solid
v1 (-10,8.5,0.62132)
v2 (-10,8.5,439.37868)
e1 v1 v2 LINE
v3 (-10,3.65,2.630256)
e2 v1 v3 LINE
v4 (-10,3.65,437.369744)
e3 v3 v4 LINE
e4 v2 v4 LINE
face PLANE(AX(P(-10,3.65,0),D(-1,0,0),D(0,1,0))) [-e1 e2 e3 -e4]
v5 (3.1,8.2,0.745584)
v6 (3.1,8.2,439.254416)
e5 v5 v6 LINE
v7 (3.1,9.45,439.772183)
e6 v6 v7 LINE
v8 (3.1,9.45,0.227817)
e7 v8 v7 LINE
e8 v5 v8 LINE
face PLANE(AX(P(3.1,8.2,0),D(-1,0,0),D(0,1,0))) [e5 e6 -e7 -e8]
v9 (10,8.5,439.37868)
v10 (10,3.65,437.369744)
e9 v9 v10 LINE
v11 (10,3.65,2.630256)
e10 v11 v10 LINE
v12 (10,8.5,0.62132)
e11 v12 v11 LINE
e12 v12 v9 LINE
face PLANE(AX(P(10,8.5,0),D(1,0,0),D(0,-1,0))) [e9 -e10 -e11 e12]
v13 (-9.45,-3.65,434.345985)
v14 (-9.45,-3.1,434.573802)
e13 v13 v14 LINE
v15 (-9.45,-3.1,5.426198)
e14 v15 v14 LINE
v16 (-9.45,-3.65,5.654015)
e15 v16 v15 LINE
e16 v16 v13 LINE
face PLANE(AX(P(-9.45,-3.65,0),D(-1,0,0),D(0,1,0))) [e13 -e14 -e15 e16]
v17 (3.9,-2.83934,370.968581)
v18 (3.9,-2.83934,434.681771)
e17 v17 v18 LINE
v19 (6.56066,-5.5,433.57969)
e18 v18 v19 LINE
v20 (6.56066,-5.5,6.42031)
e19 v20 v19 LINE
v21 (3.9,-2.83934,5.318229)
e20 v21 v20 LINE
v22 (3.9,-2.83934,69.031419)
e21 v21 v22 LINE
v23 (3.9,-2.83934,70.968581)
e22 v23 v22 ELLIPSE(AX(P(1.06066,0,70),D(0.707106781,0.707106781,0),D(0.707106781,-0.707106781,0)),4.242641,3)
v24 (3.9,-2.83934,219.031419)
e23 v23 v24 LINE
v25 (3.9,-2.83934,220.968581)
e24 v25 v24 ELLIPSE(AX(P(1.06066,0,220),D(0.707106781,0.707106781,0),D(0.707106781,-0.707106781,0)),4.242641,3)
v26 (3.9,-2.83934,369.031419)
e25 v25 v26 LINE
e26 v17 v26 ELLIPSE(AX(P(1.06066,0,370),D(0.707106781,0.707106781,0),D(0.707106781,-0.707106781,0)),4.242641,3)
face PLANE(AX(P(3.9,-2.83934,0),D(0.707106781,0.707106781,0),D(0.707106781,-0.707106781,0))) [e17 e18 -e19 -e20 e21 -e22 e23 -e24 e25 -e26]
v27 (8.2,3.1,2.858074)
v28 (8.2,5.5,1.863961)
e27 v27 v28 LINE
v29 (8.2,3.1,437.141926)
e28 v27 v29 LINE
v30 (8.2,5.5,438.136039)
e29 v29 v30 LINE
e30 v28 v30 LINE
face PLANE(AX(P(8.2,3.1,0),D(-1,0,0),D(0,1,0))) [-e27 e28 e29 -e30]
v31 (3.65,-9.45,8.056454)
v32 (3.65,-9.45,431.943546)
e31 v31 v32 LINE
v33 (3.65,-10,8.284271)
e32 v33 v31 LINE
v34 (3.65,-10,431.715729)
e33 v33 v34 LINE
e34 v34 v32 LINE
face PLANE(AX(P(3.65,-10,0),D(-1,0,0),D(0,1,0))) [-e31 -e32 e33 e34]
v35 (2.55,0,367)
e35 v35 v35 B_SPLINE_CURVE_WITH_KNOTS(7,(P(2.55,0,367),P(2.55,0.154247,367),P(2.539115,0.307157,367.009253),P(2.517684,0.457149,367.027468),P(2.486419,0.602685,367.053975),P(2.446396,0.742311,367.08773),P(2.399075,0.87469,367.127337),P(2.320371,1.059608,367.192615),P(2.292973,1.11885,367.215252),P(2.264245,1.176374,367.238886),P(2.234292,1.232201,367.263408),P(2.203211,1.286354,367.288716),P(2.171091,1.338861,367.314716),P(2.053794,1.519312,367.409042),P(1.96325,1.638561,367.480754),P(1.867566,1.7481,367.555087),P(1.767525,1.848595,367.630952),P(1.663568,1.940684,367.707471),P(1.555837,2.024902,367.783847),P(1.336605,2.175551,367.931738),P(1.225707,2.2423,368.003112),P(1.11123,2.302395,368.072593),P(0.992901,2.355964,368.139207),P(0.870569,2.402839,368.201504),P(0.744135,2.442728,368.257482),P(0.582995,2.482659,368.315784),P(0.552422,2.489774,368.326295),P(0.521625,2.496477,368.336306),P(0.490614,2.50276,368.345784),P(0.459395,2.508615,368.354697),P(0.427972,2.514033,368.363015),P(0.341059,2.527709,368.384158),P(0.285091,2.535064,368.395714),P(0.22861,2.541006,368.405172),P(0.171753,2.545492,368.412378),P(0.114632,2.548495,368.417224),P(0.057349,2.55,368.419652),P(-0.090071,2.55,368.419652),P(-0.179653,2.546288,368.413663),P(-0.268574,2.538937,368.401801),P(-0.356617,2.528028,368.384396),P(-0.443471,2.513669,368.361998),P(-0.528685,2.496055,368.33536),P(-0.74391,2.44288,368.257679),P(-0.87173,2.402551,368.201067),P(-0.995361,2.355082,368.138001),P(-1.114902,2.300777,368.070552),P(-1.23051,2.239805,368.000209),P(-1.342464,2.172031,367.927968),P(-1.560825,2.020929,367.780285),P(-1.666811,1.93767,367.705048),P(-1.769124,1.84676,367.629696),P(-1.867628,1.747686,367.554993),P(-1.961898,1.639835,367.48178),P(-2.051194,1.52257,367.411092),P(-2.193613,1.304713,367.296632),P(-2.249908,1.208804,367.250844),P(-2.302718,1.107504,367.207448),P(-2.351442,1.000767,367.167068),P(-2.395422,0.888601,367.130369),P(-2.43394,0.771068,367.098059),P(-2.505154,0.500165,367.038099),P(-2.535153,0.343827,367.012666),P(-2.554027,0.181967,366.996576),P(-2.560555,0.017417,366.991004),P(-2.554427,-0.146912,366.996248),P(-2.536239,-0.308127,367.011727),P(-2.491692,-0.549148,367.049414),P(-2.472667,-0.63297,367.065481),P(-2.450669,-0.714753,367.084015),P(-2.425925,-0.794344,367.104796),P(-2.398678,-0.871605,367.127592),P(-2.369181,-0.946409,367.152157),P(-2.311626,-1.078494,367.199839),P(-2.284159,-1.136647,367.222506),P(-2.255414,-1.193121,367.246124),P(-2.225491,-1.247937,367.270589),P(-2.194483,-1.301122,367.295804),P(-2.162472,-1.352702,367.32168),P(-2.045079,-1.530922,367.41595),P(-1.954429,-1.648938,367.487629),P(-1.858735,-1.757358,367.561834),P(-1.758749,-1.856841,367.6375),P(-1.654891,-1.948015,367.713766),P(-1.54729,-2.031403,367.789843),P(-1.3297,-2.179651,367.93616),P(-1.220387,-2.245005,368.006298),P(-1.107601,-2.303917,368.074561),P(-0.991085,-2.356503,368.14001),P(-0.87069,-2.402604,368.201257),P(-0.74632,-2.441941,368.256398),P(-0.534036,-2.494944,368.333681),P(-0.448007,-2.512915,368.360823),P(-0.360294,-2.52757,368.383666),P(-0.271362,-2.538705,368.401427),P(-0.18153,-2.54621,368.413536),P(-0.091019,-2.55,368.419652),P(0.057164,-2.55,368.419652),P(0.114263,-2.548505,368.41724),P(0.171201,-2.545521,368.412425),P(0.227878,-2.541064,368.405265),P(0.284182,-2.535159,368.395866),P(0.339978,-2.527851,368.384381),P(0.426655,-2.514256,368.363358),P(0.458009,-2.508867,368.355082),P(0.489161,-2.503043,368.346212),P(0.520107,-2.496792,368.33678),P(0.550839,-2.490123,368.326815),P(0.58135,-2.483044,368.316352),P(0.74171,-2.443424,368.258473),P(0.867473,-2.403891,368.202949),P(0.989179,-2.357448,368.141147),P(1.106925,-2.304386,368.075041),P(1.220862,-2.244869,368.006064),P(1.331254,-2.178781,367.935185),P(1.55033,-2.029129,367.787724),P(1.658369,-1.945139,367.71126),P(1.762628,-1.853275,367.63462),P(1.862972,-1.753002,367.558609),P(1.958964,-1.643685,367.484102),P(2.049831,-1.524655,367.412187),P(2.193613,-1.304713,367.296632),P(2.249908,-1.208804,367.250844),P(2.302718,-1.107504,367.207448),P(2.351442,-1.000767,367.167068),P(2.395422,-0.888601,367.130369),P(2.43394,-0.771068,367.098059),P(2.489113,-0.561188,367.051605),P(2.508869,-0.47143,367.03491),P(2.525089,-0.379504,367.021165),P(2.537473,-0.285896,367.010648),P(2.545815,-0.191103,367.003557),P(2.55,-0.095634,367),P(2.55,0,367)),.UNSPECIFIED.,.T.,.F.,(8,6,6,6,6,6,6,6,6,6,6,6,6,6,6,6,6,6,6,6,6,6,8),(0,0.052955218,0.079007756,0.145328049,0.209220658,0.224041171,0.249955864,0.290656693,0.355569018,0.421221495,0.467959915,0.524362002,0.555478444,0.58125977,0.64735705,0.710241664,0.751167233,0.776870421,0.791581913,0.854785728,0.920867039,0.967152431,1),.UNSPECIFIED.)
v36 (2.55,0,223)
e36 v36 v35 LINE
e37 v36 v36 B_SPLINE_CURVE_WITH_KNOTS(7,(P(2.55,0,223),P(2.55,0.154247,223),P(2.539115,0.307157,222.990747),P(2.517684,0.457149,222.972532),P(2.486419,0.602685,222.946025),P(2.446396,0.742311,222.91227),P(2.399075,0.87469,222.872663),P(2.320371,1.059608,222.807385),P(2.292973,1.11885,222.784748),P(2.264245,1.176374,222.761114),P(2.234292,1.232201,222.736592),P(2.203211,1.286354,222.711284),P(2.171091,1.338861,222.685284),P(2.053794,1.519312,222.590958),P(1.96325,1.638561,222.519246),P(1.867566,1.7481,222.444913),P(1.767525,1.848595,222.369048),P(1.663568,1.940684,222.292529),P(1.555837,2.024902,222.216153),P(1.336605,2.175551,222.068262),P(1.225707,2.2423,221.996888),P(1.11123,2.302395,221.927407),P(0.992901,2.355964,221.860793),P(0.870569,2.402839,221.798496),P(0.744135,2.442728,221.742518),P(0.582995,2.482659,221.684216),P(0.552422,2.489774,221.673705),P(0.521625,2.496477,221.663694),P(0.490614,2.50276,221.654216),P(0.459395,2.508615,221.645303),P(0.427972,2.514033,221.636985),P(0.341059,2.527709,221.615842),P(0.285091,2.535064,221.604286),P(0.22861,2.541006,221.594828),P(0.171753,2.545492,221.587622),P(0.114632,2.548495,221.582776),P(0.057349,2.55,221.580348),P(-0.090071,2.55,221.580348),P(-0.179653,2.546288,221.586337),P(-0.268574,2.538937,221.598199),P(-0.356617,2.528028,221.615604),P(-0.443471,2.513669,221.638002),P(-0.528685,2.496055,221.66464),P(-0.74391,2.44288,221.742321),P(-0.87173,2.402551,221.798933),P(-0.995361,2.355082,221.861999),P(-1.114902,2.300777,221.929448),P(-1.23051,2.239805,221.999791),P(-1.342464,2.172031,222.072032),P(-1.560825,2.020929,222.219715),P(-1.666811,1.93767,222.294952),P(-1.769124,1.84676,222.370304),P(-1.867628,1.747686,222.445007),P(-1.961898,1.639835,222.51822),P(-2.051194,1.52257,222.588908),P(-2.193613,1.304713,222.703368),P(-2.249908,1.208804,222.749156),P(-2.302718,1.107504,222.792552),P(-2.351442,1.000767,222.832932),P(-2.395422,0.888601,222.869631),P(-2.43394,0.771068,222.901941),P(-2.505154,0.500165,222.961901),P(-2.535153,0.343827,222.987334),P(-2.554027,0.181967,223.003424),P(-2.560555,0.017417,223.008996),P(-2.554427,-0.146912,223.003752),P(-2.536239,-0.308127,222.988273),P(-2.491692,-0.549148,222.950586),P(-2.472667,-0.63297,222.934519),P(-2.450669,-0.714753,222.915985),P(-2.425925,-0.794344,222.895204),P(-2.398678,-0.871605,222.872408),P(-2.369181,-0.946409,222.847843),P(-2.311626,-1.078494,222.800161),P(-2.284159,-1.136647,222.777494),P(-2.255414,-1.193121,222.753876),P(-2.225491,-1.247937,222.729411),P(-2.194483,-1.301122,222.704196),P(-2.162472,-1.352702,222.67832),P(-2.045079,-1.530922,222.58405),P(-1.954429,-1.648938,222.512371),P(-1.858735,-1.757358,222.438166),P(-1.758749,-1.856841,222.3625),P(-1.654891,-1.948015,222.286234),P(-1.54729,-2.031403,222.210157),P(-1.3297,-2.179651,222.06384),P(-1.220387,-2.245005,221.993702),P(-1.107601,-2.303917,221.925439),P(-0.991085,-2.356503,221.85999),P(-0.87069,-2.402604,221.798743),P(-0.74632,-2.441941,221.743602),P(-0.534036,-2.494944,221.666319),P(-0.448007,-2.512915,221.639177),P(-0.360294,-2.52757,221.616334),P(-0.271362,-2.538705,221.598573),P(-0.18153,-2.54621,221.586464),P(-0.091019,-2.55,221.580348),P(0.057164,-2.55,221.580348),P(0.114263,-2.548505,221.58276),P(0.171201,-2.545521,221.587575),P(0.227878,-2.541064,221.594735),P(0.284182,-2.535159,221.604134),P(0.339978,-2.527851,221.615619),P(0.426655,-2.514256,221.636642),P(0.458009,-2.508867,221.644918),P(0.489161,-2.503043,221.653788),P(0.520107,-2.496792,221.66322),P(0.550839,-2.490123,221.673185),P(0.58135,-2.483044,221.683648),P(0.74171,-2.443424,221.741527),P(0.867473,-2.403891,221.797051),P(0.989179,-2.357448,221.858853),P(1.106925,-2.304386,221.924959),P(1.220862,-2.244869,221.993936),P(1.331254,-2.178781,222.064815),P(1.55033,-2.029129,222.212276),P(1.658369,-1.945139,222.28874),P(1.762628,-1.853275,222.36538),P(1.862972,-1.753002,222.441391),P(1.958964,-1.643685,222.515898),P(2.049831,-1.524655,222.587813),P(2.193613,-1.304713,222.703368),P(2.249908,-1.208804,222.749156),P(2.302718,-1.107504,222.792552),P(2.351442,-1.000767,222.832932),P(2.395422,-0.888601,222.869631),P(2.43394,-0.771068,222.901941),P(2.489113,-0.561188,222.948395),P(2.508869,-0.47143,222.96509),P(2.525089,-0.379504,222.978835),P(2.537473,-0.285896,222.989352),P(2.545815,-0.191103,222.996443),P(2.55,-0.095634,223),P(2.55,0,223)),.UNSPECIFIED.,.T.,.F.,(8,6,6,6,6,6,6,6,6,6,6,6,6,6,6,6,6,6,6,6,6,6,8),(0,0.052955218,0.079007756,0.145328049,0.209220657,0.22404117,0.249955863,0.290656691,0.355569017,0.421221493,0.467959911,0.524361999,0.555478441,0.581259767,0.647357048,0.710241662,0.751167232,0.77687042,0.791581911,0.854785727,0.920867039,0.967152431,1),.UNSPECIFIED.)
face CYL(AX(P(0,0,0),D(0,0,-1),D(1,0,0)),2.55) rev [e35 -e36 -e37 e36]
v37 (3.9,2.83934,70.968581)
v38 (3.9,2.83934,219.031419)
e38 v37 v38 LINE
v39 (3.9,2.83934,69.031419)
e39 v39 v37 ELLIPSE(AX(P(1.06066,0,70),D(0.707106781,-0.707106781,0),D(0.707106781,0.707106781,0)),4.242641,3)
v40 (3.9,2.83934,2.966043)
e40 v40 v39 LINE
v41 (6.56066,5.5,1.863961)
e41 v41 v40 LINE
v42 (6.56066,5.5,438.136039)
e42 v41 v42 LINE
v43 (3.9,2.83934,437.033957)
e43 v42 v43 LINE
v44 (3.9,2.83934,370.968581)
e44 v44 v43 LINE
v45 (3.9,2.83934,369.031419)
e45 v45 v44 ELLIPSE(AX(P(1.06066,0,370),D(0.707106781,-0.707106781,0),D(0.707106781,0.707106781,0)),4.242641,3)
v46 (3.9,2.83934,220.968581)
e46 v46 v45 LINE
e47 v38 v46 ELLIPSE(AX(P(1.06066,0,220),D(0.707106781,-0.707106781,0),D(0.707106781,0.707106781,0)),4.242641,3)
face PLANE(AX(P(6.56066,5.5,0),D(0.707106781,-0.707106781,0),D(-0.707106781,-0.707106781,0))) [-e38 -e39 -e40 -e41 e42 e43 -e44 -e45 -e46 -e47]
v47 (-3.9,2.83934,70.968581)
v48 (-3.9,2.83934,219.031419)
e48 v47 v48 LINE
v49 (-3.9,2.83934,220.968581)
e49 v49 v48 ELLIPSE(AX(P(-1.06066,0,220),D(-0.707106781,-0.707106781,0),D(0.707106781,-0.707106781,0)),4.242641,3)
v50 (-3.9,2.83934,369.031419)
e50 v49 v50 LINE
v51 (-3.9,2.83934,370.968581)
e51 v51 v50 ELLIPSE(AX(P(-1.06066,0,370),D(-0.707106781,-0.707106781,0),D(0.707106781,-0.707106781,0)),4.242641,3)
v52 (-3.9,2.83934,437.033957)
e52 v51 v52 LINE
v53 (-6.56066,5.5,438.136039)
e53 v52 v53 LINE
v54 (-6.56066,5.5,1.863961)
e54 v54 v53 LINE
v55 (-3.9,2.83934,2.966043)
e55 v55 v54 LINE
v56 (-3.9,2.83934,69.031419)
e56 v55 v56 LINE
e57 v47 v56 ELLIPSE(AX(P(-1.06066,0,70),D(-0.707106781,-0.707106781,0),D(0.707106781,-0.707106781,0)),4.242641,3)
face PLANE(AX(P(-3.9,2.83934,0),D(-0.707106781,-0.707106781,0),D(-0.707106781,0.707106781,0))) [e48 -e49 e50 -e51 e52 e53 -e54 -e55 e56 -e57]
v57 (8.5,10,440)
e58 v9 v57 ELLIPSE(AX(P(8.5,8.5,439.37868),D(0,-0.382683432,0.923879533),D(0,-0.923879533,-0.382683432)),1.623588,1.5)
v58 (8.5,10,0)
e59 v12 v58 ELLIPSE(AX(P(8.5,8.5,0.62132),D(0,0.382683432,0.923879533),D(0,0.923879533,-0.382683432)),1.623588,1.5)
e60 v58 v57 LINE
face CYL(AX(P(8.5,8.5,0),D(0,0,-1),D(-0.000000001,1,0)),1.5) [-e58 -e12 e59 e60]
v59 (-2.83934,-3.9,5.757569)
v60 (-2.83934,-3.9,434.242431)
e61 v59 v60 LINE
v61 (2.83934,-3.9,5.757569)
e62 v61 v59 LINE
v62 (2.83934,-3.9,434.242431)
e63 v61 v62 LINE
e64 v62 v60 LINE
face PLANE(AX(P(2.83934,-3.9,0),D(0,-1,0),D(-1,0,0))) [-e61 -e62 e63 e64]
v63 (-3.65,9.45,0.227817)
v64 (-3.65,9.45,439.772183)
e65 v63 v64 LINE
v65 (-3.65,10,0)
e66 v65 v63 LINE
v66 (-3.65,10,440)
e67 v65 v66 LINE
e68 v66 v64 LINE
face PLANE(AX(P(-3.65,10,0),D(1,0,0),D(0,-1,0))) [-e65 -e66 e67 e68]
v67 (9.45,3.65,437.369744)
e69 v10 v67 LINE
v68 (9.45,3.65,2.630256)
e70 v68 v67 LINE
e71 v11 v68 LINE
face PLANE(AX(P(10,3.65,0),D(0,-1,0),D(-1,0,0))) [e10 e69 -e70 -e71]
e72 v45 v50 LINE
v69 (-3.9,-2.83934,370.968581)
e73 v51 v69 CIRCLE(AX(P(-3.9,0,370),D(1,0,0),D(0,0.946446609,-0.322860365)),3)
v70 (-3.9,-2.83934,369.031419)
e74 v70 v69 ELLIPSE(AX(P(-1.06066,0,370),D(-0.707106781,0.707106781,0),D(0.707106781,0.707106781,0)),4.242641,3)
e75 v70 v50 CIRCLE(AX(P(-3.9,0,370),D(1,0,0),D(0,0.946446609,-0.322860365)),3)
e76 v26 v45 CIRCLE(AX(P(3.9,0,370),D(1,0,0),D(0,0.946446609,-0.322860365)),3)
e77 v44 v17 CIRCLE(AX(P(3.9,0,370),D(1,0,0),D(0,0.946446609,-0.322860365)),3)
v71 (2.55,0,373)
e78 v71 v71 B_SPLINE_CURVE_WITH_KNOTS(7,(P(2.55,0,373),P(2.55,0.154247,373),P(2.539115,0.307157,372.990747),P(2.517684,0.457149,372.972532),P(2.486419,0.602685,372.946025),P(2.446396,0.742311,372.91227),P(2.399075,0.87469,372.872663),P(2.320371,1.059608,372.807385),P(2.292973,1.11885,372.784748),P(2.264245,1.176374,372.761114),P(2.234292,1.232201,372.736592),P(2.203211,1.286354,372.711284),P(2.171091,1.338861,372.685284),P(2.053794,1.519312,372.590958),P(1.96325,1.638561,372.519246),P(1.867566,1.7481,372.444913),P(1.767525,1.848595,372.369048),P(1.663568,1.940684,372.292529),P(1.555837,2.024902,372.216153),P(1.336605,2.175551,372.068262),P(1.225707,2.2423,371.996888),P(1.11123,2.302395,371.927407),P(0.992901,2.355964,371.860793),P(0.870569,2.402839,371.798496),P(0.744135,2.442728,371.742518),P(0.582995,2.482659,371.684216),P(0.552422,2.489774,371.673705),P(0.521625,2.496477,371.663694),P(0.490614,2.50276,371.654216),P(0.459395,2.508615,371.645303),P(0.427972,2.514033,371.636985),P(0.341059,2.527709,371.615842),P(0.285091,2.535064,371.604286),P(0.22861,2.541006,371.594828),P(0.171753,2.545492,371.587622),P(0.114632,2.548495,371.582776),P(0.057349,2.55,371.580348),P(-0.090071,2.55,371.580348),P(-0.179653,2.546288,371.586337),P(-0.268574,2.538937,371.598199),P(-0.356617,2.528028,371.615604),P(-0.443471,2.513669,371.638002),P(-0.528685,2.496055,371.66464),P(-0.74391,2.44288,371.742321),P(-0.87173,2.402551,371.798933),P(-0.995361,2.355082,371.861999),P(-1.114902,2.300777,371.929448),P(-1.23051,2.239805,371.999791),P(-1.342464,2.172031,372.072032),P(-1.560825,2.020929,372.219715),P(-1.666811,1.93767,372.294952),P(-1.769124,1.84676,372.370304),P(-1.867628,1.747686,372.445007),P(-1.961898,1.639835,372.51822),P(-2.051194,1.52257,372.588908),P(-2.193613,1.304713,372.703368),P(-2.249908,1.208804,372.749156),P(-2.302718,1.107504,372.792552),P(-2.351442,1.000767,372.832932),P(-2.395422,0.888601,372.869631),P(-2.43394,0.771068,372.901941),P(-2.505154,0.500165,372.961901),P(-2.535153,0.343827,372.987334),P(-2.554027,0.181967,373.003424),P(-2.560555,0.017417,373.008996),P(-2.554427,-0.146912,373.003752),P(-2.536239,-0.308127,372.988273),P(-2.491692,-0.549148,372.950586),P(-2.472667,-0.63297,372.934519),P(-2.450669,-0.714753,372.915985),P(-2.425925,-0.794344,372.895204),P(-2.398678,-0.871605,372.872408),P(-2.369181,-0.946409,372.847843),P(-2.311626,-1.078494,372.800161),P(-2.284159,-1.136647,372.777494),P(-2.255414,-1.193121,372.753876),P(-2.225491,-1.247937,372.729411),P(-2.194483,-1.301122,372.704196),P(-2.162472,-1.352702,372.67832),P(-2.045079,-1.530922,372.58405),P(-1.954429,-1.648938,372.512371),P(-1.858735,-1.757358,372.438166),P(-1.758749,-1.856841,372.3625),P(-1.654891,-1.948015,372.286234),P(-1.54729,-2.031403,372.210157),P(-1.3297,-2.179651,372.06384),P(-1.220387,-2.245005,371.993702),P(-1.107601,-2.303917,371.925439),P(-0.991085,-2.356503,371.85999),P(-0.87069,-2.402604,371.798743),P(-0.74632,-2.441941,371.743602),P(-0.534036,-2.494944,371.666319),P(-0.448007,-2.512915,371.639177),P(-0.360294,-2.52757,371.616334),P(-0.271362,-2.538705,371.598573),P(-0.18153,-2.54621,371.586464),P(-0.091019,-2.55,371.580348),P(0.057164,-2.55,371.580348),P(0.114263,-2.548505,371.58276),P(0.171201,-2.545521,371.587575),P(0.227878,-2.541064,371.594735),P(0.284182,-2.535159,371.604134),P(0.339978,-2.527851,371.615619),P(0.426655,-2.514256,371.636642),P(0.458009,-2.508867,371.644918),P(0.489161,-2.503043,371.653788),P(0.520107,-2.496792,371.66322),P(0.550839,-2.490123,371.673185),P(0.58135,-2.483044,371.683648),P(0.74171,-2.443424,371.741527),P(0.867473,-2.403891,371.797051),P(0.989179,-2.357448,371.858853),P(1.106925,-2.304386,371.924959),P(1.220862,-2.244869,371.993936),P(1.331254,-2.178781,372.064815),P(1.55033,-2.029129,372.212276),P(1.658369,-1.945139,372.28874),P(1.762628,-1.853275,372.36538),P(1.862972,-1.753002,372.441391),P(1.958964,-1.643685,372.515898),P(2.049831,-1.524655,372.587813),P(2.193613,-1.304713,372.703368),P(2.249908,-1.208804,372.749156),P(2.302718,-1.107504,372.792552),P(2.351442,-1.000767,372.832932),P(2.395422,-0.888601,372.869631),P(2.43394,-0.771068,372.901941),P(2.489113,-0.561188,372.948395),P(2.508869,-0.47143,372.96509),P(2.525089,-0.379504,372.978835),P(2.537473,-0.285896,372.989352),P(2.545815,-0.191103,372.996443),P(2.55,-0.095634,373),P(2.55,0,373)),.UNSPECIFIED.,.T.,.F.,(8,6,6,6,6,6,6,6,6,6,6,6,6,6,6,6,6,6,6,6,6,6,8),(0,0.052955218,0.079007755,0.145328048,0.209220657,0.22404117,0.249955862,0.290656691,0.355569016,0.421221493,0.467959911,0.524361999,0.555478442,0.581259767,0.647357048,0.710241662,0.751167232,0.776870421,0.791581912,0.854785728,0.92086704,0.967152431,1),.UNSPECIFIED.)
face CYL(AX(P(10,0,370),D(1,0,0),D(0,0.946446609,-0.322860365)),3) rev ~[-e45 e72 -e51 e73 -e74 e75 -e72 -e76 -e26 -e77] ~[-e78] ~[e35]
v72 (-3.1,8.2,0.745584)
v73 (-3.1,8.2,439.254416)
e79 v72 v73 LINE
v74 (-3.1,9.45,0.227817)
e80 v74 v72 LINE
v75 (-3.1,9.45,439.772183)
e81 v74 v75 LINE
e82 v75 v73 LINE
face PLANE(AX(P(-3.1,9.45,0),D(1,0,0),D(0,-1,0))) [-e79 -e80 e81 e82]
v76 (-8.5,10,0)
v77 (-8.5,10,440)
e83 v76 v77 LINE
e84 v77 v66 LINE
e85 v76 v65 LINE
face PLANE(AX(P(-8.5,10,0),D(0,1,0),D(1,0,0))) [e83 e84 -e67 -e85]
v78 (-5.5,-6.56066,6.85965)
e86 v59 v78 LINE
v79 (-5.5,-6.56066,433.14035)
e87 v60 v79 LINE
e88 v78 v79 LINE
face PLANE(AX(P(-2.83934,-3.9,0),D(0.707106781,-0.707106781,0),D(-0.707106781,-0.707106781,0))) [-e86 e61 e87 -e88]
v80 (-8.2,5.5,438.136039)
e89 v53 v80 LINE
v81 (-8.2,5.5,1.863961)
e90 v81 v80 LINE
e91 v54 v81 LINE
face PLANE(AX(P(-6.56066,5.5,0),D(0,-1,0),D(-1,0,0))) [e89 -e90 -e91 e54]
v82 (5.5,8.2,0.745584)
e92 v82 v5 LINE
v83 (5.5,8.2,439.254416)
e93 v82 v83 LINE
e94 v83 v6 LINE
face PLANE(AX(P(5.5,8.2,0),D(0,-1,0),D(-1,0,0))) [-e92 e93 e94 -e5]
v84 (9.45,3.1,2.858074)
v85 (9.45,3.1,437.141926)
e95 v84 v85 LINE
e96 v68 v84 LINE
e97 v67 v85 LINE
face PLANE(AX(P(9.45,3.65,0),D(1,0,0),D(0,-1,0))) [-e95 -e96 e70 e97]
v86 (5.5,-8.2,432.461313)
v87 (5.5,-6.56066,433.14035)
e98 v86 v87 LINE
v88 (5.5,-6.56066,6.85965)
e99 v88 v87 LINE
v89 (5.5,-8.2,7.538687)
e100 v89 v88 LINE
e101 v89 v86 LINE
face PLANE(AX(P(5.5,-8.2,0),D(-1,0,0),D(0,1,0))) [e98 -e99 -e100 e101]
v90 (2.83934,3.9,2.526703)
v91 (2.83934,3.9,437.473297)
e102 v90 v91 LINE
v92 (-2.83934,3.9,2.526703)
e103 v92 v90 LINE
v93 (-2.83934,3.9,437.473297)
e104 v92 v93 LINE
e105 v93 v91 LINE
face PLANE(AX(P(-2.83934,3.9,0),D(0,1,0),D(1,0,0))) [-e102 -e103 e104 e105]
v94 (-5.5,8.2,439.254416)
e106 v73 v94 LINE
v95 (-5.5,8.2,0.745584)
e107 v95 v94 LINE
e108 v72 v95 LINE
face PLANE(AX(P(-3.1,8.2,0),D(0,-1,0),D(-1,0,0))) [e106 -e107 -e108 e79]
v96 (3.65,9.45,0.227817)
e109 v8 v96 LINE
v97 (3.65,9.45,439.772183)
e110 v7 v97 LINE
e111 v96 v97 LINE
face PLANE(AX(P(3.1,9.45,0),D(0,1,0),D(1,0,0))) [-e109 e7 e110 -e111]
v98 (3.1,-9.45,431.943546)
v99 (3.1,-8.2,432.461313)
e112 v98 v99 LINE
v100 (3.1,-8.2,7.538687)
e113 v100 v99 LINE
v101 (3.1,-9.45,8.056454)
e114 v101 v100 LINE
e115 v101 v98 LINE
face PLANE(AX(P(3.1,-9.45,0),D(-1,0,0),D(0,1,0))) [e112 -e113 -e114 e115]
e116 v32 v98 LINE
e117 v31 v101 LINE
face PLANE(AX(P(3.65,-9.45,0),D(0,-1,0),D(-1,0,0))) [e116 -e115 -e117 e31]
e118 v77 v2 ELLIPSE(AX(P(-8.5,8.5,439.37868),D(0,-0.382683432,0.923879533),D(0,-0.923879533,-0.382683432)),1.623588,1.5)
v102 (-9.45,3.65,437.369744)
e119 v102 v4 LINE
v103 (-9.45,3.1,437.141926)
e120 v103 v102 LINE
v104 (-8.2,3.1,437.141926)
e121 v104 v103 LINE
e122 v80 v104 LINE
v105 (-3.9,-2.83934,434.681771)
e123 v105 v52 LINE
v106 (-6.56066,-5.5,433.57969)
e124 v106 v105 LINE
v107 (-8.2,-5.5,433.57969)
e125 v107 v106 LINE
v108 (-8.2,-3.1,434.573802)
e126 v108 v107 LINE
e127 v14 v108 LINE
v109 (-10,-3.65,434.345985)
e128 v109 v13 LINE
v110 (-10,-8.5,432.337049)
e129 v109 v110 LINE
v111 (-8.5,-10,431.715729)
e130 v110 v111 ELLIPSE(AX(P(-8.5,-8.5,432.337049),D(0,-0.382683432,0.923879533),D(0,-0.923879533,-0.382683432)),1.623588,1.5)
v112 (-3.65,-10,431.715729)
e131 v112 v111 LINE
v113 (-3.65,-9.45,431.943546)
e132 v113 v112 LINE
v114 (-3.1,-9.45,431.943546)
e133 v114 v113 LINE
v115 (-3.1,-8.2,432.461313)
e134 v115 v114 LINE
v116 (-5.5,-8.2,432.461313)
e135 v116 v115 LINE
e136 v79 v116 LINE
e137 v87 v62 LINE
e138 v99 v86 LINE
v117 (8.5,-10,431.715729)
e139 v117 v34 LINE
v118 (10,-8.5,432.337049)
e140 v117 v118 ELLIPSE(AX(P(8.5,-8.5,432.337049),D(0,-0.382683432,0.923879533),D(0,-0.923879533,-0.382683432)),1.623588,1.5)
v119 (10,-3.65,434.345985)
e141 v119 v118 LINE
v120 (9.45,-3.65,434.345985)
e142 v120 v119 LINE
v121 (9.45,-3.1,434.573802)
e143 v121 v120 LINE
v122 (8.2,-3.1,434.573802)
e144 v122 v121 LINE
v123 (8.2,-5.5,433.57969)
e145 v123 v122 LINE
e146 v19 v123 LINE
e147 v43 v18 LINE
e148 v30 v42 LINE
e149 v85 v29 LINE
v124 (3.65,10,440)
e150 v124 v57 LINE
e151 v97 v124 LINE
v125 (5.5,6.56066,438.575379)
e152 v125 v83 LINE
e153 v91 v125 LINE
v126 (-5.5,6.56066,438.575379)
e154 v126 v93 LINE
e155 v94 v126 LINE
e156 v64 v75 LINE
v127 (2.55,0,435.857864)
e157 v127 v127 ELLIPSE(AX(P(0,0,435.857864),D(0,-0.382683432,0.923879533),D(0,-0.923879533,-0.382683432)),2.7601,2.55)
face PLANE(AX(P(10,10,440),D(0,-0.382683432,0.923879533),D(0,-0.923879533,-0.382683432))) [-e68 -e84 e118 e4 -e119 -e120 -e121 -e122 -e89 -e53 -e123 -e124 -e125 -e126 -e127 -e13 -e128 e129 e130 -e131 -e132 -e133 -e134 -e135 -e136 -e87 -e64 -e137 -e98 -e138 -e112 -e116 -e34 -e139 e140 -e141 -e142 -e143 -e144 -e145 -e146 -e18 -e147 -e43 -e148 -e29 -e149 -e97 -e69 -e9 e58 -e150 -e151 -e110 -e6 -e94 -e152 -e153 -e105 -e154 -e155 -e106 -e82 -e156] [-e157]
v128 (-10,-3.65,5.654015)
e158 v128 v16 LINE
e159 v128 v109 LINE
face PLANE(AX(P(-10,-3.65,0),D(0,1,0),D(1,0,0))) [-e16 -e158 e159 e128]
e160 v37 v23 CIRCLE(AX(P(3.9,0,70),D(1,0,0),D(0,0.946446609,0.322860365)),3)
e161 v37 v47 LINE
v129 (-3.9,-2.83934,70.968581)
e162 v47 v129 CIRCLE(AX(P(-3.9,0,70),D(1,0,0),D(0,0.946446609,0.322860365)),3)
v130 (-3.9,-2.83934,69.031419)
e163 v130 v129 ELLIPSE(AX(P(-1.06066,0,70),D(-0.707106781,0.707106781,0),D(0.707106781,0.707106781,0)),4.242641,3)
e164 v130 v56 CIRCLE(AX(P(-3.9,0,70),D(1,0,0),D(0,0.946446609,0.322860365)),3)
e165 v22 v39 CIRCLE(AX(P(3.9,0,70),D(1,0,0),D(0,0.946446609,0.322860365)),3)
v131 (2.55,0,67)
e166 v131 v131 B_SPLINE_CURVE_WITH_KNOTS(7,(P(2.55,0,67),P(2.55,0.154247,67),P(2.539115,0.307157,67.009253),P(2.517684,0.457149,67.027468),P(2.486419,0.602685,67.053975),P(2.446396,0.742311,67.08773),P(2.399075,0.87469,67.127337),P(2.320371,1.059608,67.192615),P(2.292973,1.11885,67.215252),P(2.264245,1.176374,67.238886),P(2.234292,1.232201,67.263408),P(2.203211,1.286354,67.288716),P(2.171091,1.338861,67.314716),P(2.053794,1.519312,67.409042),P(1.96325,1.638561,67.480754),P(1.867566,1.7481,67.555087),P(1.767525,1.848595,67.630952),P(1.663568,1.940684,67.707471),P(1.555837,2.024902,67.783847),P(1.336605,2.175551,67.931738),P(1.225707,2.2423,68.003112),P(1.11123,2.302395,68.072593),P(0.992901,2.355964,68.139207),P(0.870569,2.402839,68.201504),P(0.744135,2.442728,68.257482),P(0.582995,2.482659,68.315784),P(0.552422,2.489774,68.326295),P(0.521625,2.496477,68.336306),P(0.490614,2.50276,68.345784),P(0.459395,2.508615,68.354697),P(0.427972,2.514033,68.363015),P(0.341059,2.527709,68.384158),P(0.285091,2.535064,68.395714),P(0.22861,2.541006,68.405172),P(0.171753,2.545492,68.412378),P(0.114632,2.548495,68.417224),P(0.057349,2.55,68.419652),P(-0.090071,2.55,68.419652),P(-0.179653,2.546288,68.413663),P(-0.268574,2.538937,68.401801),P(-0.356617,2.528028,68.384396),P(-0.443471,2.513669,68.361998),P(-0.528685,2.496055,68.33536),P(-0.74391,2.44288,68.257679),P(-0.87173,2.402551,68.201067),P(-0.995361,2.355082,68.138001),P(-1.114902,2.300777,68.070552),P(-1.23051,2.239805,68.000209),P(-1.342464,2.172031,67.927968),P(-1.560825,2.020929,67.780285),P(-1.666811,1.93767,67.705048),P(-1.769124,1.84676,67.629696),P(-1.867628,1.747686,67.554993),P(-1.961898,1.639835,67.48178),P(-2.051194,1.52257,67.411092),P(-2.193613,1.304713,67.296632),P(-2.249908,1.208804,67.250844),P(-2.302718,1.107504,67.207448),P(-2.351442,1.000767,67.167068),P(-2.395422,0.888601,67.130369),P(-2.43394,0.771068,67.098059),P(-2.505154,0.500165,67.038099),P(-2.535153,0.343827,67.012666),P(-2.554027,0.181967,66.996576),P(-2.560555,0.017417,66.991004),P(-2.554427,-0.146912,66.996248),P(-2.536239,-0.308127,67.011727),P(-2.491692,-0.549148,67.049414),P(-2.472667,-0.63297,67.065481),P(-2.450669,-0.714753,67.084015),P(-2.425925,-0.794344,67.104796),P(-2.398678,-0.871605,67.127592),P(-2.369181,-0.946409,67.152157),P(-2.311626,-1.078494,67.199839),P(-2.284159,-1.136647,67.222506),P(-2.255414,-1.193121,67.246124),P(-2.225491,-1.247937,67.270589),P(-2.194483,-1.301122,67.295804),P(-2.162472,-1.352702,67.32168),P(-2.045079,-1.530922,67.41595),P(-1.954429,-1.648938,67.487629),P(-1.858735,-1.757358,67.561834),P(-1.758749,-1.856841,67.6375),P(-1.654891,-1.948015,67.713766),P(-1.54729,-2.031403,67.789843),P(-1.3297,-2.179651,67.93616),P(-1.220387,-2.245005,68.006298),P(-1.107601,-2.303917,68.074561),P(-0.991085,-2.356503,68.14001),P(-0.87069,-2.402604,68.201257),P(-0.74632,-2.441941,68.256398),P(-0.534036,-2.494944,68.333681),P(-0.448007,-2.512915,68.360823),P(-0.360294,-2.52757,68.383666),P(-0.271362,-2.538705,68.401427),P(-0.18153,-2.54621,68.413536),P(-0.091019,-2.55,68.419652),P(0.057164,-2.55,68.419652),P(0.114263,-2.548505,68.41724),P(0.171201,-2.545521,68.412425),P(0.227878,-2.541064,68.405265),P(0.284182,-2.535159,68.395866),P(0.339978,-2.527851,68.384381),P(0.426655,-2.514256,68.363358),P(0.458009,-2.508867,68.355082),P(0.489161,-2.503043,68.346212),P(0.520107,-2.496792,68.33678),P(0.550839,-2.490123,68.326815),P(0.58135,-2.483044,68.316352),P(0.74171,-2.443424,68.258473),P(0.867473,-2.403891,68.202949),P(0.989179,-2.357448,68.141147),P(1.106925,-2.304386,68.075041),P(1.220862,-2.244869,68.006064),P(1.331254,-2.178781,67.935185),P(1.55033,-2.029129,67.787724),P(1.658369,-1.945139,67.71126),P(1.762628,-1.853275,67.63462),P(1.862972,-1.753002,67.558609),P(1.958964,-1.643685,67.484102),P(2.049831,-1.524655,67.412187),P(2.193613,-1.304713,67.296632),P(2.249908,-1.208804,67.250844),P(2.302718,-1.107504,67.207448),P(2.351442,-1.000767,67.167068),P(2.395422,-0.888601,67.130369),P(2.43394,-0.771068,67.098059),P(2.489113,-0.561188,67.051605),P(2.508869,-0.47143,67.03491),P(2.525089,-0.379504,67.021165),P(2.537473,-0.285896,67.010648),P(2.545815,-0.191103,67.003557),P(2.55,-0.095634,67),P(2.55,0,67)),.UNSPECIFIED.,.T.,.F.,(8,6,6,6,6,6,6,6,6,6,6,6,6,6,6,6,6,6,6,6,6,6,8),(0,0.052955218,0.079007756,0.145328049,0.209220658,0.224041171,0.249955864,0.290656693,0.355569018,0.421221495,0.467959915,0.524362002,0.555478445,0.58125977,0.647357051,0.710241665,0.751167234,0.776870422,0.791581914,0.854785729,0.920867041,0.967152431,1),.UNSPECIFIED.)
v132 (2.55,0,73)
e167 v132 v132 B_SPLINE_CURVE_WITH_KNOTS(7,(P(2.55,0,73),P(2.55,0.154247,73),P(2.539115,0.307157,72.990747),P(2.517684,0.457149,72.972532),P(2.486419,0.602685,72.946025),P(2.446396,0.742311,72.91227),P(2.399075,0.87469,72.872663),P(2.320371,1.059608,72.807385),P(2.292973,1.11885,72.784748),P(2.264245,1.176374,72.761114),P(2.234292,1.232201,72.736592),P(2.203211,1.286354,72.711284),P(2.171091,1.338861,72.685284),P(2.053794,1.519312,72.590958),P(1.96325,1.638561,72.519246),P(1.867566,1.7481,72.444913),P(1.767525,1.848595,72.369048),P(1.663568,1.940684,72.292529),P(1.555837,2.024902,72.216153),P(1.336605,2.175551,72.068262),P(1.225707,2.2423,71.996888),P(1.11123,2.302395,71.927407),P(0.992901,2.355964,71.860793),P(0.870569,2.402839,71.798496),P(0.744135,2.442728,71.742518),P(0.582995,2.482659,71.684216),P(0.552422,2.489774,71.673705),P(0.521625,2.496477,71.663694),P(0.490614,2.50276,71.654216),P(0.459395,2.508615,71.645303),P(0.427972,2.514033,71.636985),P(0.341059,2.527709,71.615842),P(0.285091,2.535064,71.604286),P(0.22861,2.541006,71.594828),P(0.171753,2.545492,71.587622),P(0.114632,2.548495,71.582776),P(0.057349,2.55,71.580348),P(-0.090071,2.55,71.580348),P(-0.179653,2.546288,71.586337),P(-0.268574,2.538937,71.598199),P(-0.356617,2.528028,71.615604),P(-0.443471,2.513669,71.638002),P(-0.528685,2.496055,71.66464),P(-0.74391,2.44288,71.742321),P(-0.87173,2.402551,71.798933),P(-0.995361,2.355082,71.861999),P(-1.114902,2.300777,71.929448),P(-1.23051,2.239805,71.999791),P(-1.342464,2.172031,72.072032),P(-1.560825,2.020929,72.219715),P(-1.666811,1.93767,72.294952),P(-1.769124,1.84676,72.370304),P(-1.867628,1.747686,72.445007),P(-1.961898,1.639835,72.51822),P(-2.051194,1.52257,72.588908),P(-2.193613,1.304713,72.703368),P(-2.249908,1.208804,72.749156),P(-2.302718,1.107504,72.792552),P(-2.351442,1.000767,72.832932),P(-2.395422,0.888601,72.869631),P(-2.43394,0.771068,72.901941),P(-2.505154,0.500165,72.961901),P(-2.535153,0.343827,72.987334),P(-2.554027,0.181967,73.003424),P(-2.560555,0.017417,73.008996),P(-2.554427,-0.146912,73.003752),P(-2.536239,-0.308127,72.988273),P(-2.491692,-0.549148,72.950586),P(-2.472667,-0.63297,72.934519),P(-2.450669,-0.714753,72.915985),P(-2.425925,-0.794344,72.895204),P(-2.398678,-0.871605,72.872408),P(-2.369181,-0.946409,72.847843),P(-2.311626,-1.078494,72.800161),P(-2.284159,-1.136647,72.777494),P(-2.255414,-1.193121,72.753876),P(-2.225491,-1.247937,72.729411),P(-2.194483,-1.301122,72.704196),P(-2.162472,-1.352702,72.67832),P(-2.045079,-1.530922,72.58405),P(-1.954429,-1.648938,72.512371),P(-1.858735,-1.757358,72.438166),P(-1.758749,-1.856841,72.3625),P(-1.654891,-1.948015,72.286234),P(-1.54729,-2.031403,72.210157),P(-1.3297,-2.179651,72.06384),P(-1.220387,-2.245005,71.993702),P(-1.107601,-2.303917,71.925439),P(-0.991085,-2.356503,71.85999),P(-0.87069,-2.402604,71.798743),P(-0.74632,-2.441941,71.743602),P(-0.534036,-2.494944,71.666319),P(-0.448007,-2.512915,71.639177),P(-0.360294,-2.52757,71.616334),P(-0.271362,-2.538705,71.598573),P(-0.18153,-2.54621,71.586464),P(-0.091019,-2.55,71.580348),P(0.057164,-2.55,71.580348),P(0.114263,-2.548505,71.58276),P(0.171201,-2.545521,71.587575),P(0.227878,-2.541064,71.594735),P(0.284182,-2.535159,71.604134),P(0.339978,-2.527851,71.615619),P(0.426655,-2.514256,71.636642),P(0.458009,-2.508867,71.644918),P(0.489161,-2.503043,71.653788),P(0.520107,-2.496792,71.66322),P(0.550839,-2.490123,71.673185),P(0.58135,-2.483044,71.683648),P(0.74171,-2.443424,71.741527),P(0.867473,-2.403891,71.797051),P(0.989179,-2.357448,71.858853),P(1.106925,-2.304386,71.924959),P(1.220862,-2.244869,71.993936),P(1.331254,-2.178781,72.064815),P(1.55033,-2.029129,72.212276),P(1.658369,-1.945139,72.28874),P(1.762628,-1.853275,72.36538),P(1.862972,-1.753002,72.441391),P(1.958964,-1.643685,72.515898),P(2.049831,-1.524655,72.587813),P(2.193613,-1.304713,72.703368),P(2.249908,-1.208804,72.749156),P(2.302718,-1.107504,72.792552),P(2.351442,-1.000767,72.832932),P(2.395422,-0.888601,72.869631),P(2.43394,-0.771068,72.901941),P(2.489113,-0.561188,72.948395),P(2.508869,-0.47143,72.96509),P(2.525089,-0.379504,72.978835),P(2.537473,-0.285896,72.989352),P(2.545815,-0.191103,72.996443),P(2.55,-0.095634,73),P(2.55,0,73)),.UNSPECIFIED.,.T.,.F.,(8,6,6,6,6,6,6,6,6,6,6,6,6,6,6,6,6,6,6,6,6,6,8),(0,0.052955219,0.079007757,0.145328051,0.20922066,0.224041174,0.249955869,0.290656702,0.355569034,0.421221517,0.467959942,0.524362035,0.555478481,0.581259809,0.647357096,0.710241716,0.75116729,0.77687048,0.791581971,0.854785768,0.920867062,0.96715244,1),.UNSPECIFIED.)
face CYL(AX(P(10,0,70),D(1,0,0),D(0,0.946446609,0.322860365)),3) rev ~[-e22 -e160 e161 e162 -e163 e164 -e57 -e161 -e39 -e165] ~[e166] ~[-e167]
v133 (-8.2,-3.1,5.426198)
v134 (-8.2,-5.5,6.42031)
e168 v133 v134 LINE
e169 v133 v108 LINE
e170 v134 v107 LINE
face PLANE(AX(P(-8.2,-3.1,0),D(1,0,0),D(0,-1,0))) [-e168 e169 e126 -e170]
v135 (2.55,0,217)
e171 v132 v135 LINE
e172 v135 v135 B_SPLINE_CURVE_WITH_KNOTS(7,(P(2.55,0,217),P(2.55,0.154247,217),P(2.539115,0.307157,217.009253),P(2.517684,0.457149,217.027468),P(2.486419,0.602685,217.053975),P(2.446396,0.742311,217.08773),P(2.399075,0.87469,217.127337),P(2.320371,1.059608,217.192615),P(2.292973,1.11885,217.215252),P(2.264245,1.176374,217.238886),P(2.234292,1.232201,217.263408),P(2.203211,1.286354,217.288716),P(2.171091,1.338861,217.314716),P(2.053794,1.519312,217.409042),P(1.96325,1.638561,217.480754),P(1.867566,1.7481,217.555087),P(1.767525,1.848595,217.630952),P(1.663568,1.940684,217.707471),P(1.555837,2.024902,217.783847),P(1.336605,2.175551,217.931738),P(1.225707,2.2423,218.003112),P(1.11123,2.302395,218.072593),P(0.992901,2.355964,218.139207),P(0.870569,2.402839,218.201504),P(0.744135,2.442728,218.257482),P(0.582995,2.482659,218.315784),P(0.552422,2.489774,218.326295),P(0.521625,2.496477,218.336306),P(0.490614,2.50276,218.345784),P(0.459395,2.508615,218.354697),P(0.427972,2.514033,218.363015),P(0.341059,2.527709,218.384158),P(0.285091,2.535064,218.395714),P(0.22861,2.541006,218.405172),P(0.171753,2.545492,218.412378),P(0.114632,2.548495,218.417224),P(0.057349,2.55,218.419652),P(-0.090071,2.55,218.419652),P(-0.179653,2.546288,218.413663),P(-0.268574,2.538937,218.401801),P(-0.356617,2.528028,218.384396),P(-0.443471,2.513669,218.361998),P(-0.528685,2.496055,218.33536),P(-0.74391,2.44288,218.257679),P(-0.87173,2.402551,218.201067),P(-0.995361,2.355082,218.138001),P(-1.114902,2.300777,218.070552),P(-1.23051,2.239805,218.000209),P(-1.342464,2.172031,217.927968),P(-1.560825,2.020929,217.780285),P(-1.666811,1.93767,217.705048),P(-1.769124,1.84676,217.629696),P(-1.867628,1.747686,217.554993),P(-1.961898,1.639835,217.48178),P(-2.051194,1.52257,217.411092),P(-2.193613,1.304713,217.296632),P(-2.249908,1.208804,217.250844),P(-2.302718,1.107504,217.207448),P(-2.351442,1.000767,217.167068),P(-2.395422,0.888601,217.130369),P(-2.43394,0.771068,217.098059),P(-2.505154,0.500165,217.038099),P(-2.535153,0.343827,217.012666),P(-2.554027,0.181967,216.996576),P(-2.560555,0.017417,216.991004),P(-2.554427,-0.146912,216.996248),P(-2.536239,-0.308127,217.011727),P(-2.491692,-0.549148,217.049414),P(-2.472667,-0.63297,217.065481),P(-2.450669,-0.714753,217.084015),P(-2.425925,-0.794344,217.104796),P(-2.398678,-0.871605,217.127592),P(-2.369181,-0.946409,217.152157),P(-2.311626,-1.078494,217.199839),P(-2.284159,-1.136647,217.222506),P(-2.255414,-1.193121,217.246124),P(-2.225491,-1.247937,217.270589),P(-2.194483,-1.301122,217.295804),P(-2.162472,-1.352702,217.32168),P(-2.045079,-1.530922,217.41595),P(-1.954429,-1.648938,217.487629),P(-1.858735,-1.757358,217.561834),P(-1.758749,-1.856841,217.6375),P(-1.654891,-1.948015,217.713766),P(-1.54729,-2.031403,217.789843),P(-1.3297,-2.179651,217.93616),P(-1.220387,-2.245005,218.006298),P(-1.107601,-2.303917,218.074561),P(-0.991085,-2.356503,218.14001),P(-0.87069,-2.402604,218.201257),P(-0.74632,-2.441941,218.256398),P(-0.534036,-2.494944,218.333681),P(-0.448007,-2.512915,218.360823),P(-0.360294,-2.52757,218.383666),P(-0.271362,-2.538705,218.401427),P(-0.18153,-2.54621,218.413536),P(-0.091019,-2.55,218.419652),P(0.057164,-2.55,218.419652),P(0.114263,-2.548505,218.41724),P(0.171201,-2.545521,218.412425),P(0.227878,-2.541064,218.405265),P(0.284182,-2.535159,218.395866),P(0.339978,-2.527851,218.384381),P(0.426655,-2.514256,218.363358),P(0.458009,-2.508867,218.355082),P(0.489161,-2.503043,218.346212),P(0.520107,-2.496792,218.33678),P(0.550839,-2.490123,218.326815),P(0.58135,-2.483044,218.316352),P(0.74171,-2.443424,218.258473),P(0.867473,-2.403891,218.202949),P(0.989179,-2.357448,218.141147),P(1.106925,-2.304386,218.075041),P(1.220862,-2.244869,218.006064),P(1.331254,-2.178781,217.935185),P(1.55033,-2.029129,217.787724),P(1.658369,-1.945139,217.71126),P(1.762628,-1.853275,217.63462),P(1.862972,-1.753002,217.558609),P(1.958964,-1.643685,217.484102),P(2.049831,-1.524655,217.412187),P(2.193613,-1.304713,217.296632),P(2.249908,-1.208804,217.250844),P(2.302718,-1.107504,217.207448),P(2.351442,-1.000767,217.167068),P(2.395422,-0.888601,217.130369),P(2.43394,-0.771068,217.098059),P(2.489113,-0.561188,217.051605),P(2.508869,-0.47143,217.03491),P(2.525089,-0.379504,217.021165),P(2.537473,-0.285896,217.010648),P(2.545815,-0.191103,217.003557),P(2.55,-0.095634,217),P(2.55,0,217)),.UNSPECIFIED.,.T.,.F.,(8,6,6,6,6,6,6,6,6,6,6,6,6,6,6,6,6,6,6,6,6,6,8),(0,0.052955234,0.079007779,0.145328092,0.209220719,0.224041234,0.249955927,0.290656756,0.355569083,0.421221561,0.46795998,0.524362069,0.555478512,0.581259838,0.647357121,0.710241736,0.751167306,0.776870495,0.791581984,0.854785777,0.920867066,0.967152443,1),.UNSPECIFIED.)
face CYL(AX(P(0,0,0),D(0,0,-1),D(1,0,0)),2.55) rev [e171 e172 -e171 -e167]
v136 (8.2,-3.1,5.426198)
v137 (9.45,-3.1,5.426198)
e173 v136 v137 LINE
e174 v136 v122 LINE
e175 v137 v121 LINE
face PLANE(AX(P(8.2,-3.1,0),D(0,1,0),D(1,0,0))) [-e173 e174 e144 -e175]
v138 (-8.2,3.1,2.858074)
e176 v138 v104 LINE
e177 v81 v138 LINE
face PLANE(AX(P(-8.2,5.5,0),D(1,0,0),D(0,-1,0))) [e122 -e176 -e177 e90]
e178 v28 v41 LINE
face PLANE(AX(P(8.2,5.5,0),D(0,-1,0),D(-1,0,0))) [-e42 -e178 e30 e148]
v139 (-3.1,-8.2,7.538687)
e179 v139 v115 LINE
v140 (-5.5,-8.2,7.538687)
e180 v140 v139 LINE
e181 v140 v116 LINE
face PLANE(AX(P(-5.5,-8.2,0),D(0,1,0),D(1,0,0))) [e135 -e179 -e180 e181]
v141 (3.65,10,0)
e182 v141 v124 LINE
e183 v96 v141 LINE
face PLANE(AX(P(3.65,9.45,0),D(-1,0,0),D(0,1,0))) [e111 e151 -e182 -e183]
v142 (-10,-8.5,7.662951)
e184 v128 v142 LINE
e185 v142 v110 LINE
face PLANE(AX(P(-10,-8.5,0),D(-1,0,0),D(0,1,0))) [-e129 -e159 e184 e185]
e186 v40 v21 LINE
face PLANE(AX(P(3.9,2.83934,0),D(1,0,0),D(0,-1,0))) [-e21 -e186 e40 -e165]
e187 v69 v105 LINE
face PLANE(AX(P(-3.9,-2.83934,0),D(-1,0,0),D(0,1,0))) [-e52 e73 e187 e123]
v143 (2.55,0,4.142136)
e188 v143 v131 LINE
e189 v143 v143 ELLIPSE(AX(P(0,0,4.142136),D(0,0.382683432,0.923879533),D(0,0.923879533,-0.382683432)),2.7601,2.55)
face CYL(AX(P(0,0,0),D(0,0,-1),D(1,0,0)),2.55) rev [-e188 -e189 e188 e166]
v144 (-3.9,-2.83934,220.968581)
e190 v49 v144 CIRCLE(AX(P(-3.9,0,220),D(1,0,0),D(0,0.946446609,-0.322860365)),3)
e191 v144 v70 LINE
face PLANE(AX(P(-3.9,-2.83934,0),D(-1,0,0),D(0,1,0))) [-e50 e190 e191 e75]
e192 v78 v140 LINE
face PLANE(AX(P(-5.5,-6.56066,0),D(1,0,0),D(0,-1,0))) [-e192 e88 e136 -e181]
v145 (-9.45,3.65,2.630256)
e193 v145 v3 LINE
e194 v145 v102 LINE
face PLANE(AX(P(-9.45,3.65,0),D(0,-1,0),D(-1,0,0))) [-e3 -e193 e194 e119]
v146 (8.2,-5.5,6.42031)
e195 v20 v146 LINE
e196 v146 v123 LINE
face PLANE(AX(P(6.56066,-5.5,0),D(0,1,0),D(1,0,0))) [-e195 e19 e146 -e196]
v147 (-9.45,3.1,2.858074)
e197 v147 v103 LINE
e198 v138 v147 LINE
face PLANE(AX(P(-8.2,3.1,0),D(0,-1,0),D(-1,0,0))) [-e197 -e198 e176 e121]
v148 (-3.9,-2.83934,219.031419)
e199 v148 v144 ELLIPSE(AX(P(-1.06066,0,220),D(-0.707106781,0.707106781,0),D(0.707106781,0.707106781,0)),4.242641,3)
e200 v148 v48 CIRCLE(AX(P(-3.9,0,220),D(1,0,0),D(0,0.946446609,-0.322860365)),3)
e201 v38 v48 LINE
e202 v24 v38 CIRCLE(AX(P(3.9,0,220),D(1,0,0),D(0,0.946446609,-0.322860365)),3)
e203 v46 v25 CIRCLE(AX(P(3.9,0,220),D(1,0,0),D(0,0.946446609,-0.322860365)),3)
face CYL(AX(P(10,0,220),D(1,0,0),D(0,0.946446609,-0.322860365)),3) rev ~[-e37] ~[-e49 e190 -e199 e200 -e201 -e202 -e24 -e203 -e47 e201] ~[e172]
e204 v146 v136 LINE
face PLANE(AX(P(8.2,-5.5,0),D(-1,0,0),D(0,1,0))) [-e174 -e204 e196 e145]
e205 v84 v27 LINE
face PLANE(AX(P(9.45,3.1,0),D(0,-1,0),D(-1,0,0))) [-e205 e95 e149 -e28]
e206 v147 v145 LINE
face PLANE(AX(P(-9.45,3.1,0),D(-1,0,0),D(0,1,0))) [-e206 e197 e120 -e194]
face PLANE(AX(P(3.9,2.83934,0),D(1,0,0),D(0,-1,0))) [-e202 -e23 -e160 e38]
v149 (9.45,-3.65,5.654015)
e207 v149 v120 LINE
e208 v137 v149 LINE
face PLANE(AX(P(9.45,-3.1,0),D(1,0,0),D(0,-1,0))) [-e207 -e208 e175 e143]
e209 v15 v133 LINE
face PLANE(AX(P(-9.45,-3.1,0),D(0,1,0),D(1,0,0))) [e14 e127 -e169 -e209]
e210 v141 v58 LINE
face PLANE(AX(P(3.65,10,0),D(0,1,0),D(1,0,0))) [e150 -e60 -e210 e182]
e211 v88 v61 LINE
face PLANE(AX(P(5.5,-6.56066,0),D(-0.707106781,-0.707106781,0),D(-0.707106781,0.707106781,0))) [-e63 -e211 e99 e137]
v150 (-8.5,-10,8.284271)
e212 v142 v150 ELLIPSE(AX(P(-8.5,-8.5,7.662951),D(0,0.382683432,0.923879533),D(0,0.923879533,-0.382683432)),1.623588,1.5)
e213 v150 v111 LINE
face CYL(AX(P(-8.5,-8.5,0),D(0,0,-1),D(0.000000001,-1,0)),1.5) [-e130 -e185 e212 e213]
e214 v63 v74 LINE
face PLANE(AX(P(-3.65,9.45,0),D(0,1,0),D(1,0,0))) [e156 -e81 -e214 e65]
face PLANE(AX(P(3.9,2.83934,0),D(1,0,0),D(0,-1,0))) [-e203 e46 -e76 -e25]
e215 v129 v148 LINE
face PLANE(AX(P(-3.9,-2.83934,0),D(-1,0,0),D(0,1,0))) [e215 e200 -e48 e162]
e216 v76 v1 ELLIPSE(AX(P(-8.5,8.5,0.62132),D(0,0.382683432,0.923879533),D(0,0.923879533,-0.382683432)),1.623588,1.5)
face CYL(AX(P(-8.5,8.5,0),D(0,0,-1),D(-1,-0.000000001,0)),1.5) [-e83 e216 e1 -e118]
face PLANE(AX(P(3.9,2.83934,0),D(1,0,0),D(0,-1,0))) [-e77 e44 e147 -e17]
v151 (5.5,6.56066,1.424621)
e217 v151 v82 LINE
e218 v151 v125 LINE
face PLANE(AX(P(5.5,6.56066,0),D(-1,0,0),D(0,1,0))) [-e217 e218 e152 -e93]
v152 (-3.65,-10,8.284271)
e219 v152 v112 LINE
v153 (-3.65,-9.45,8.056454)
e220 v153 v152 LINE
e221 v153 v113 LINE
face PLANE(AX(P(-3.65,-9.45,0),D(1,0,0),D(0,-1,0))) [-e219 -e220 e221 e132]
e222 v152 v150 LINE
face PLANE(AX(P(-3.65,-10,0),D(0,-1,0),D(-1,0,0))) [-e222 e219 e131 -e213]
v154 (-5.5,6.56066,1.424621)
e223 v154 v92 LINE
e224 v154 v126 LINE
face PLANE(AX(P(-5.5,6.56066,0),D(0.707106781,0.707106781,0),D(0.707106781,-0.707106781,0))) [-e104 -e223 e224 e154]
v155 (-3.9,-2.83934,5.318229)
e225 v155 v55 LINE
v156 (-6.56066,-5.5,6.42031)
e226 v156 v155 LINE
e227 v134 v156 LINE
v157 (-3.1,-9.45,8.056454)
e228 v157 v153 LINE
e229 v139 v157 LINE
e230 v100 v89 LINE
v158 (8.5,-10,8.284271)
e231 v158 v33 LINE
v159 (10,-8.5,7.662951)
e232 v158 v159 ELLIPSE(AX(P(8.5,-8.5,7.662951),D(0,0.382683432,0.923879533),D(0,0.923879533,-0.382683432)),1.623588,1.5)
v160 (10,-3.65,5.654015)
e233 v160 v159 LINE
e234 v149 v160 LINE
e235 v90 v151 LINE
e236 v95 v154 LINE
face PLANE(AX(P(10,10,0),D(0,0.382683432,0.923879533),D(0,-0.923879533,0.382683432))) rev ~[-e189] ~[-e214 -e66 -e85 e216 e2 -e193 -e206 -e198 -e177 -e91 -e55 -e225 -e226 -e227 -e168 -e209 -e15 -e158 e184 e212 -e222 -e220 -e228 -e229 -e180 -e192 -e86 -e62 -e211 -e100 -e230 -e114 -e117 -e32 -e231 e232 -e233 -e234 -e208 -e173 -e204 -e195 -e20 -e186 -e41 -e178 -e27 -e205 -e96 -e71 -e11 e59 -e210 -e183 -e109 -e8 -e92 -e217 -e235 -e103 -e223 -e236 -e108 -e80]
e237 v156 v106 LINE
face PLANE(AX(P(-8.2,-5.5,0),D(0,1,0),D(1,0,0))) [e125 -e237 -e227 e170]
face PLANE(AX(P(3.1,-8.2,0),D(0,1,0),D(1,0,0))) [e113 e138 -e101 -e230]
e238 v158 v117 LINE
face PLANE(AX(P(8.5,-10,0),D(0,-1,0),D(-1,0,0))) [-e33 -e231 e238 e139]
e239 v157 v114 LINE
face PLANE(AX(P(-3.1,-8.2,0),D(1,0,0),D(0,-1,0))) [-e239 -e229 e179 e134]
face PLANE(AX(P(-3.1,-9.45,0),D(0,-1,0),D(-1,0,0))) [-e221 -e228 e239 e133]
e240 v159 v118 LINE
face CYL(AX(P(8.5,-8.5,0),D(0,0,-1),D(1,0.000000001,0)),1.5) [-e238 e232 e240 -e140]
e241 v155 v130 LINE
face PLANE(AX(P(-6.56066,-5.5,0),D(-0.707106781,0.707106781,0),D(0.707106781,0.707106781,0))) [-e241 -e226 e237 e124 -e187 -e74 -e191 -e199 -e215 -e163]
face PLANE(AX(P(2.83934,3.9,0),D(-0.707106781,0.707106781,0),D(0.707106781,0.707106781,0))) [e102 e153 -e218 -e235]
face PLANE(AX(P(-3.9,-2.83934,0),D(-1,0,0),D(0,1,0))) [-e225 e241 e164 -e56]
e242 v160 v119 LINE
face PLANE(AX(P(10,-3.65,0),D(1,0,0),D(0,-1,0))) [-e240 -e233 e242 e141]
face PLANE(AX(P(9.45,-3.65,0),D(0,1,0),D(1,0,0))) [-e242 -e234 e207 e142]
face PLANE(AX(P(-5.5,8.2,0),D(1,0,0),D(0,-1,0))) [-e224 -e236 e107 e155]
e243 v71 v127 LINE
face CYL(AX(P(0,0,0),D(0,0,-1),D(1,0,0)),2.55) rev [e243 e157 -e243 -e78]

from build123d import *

# Parameters (mm, degrees)
SKETCH_2_R          = 2.55
EXTRUDE_1_DEPTH     = 440
SKETCH_3_R          = 3
CUT_EXTRUDE_1_DEPTH = 441.567815438
CUT_EXTRUDE_2_DEPTH = 20


with BuildPart() as part:
    # 草图2 → 凸台-拉伸1 (new body)
    with BuildSketch(Plane.XY):
        with BuildLine():
            Line((-3.9, 2.839339828), (-6.560660172, 5.5))
            Line((-6.560660172, 5.5), (-8.2, 5.5))
            Line((-8.2, 5.5), (-8.2, 3.1))
            Line((-8.2, 3.1), (-9.45, 3.1))
            Line((-9.45, 3.1), (-9.45, 3.65))
            Line((-9.45, 3.65), (-10, 3.65))
            Line((-10, 3.65), (-10, 8.5))
            ThreePointArc((-10, 8.5), (-9.560660172, 9.560660172), (-8.5, 10))
            Line((-8.5, 10), (-3.65, 10))
            Line((-3.65, 10), (-3.65, 9.45))
            Line((-3.65, 9.45), (-3.1, 9.45))
            Line((-3.1, 9.45), (-3.1, 8.2))
            Line((-3.1, 8.2), (-5.5, 8.2))
            Line((-5.5, 8.2), (-5.5, 6.560660172))
            Line((-5.5, 6.560660172), (-2.839339828, 3.9))
            Line((-2.839339828, 3.9), (2.839339828, 3.9))
            Line((2.839339828, 3.9), (5.5, 6.560660172))
            Line((5.5, 6.560660172), (5.5, 8.2))
            Line((5.5, 8.2), (3.1, 8.2))
            Line((3.1, 8.2), (3.1, 9.45))
            Line((3.1, 9.45), (3.65, 9.45))
            Line((3.65, 9.45), (3.65, 10))
            Line((3.65, 10), (8.5, 10))
            ThreePointArc((8.5, 10), (9.560660172, 9.560660172), (10, 8.5))
            Line((10, 8.5), (10, 3.65))
            Line((10, 3.65), (9.45, 3.65))
            Line((9.45, 3.65), (9.45, 3.1))
            Line((9.45, 3.1), (8.2, 3.1))
            Line((8.2, 3.1), (8.2, 5.5))
            Line((8.2, 5.5), (6.560660172, 5.5))
            Line((6.560660172, 5.5), (3.9, 2.839339828))
            Line((3.9, 2.839339828), (3.9, -2.839339828))
            Line((3.9, -2.839339828), (6.560660172, -5.5))
            Line((6.560660172, -5.5), (8.2, -5.5))
            Line((8.2, -5.5), (8.2, -3.1))
            Line((8.2, -3.1), (9.45, -3.1))
            Line((9.45, -3.1), (9.45, -3.65))
            Line((9.45, -3.65), (10, -3.65))
            Line((10, -3.65), (10, -8.5))
            ThreePointArc((10, -8.5), (9.560660172, -9.560660172), (8.5, -10))
            Line((8.5, -10), (3.65, -10))
            Line((3.65, -10), (3.65, -9.45))
            Line((3.65, -9.45), (3.1, -9.45))
            Line((3.1, -9.45), (3.1, -8.2))
            Line((3.1, -8.2), (5.5, -8.2))
            Line((5.5, -8.2), (5.5, -6.560660172))
            Line((5.5, -6.560660172), (2.839339828, -3.9))
            Line((2.839339828, -3.9), (-2.839339828, -3.9))
            Line((-2.839339828, -3.9), (-5.5, -6.560660172))
            Line((-5.5, -6.560660172), (-5.5, -8.2))
            Line((-5.5, -8.2), (-3.1, -8.2))
            Line((-3.1, -8.2), (-3.1, -9.45))
            Line((-3.1, -9.45), (-3.65, -9.45))
            Line((-3.65, -9.45), (-3.65, -10))
            Line((-3.65, -10), (-8.5, -10))
            ThreePointArc((-8.5, -10), (-9.560660172, -9.560660172), (-10, -8.5))
            Line((-10, -8.5), (-10, -3.65))
            Line((-10, -3.65), (-9.45, -3.65))
            Line((-9.45, -3.65), (-9.45, -3.1))
            Line((-9.45, -3.1), (-8.2, -3.1))
            Line((-8.2, -3.1), (-8.2, -5.5))
            Line((-8.2, -5.5), (-6.560660172, -5.5))
            Line((-6.560660172, -5.5), (-3.9, -2.839339828))
            Line((-3.9, -2.839339828), (-3.9, 2.839339828))
        make_face()
        Circle(SKETCH_2_R, mode=Mode.SUBTRACT)
    extrude(amount=EXTRUDE_1_DEPTH)

    # 草图3 → 切除-拉伸1 (cut, through all)
    with BuildSketch(Plane(origin=(10, 0, 0), x_dir=(0, 0, -1), z_dir=(1, 0, 0))):
        with Locations(Location((-70, 0, 0), (0, 0, 108.835996158))):
            Circle(SKETCH_3_R)
        with Locations(Location((-370, 0, 0), (0, 0, 71.164003842))):
            Circle(SKETCH_3_R)
        with Locations(Location((-220, 0, 0), (0, 0, 71.164003842))):
            Circle(SKETCH_3_R)
    extrude(amount=-CUT_EXTRUDE_1_DEPTH, mode=Mode.SUBTRACT)

    # 草图5 → 切除-拉伸2 (cut)
    with BuildSketch(Plane(origin=(10, 0, 0), x_dir=(0, 0, -1), z_dir=(1, 0, 0))):
        Polygon((-440, 10), (-431.715728753, -10), (-440, -10), align=None)
        Polygon((0, 10), (-8.284271247, -10), (0, -10), align=None)
    extrude(amount=-CUT_EXTRUDE_2_DEPTH, mode=Mode.SUBTRACT)


solid = part.part
